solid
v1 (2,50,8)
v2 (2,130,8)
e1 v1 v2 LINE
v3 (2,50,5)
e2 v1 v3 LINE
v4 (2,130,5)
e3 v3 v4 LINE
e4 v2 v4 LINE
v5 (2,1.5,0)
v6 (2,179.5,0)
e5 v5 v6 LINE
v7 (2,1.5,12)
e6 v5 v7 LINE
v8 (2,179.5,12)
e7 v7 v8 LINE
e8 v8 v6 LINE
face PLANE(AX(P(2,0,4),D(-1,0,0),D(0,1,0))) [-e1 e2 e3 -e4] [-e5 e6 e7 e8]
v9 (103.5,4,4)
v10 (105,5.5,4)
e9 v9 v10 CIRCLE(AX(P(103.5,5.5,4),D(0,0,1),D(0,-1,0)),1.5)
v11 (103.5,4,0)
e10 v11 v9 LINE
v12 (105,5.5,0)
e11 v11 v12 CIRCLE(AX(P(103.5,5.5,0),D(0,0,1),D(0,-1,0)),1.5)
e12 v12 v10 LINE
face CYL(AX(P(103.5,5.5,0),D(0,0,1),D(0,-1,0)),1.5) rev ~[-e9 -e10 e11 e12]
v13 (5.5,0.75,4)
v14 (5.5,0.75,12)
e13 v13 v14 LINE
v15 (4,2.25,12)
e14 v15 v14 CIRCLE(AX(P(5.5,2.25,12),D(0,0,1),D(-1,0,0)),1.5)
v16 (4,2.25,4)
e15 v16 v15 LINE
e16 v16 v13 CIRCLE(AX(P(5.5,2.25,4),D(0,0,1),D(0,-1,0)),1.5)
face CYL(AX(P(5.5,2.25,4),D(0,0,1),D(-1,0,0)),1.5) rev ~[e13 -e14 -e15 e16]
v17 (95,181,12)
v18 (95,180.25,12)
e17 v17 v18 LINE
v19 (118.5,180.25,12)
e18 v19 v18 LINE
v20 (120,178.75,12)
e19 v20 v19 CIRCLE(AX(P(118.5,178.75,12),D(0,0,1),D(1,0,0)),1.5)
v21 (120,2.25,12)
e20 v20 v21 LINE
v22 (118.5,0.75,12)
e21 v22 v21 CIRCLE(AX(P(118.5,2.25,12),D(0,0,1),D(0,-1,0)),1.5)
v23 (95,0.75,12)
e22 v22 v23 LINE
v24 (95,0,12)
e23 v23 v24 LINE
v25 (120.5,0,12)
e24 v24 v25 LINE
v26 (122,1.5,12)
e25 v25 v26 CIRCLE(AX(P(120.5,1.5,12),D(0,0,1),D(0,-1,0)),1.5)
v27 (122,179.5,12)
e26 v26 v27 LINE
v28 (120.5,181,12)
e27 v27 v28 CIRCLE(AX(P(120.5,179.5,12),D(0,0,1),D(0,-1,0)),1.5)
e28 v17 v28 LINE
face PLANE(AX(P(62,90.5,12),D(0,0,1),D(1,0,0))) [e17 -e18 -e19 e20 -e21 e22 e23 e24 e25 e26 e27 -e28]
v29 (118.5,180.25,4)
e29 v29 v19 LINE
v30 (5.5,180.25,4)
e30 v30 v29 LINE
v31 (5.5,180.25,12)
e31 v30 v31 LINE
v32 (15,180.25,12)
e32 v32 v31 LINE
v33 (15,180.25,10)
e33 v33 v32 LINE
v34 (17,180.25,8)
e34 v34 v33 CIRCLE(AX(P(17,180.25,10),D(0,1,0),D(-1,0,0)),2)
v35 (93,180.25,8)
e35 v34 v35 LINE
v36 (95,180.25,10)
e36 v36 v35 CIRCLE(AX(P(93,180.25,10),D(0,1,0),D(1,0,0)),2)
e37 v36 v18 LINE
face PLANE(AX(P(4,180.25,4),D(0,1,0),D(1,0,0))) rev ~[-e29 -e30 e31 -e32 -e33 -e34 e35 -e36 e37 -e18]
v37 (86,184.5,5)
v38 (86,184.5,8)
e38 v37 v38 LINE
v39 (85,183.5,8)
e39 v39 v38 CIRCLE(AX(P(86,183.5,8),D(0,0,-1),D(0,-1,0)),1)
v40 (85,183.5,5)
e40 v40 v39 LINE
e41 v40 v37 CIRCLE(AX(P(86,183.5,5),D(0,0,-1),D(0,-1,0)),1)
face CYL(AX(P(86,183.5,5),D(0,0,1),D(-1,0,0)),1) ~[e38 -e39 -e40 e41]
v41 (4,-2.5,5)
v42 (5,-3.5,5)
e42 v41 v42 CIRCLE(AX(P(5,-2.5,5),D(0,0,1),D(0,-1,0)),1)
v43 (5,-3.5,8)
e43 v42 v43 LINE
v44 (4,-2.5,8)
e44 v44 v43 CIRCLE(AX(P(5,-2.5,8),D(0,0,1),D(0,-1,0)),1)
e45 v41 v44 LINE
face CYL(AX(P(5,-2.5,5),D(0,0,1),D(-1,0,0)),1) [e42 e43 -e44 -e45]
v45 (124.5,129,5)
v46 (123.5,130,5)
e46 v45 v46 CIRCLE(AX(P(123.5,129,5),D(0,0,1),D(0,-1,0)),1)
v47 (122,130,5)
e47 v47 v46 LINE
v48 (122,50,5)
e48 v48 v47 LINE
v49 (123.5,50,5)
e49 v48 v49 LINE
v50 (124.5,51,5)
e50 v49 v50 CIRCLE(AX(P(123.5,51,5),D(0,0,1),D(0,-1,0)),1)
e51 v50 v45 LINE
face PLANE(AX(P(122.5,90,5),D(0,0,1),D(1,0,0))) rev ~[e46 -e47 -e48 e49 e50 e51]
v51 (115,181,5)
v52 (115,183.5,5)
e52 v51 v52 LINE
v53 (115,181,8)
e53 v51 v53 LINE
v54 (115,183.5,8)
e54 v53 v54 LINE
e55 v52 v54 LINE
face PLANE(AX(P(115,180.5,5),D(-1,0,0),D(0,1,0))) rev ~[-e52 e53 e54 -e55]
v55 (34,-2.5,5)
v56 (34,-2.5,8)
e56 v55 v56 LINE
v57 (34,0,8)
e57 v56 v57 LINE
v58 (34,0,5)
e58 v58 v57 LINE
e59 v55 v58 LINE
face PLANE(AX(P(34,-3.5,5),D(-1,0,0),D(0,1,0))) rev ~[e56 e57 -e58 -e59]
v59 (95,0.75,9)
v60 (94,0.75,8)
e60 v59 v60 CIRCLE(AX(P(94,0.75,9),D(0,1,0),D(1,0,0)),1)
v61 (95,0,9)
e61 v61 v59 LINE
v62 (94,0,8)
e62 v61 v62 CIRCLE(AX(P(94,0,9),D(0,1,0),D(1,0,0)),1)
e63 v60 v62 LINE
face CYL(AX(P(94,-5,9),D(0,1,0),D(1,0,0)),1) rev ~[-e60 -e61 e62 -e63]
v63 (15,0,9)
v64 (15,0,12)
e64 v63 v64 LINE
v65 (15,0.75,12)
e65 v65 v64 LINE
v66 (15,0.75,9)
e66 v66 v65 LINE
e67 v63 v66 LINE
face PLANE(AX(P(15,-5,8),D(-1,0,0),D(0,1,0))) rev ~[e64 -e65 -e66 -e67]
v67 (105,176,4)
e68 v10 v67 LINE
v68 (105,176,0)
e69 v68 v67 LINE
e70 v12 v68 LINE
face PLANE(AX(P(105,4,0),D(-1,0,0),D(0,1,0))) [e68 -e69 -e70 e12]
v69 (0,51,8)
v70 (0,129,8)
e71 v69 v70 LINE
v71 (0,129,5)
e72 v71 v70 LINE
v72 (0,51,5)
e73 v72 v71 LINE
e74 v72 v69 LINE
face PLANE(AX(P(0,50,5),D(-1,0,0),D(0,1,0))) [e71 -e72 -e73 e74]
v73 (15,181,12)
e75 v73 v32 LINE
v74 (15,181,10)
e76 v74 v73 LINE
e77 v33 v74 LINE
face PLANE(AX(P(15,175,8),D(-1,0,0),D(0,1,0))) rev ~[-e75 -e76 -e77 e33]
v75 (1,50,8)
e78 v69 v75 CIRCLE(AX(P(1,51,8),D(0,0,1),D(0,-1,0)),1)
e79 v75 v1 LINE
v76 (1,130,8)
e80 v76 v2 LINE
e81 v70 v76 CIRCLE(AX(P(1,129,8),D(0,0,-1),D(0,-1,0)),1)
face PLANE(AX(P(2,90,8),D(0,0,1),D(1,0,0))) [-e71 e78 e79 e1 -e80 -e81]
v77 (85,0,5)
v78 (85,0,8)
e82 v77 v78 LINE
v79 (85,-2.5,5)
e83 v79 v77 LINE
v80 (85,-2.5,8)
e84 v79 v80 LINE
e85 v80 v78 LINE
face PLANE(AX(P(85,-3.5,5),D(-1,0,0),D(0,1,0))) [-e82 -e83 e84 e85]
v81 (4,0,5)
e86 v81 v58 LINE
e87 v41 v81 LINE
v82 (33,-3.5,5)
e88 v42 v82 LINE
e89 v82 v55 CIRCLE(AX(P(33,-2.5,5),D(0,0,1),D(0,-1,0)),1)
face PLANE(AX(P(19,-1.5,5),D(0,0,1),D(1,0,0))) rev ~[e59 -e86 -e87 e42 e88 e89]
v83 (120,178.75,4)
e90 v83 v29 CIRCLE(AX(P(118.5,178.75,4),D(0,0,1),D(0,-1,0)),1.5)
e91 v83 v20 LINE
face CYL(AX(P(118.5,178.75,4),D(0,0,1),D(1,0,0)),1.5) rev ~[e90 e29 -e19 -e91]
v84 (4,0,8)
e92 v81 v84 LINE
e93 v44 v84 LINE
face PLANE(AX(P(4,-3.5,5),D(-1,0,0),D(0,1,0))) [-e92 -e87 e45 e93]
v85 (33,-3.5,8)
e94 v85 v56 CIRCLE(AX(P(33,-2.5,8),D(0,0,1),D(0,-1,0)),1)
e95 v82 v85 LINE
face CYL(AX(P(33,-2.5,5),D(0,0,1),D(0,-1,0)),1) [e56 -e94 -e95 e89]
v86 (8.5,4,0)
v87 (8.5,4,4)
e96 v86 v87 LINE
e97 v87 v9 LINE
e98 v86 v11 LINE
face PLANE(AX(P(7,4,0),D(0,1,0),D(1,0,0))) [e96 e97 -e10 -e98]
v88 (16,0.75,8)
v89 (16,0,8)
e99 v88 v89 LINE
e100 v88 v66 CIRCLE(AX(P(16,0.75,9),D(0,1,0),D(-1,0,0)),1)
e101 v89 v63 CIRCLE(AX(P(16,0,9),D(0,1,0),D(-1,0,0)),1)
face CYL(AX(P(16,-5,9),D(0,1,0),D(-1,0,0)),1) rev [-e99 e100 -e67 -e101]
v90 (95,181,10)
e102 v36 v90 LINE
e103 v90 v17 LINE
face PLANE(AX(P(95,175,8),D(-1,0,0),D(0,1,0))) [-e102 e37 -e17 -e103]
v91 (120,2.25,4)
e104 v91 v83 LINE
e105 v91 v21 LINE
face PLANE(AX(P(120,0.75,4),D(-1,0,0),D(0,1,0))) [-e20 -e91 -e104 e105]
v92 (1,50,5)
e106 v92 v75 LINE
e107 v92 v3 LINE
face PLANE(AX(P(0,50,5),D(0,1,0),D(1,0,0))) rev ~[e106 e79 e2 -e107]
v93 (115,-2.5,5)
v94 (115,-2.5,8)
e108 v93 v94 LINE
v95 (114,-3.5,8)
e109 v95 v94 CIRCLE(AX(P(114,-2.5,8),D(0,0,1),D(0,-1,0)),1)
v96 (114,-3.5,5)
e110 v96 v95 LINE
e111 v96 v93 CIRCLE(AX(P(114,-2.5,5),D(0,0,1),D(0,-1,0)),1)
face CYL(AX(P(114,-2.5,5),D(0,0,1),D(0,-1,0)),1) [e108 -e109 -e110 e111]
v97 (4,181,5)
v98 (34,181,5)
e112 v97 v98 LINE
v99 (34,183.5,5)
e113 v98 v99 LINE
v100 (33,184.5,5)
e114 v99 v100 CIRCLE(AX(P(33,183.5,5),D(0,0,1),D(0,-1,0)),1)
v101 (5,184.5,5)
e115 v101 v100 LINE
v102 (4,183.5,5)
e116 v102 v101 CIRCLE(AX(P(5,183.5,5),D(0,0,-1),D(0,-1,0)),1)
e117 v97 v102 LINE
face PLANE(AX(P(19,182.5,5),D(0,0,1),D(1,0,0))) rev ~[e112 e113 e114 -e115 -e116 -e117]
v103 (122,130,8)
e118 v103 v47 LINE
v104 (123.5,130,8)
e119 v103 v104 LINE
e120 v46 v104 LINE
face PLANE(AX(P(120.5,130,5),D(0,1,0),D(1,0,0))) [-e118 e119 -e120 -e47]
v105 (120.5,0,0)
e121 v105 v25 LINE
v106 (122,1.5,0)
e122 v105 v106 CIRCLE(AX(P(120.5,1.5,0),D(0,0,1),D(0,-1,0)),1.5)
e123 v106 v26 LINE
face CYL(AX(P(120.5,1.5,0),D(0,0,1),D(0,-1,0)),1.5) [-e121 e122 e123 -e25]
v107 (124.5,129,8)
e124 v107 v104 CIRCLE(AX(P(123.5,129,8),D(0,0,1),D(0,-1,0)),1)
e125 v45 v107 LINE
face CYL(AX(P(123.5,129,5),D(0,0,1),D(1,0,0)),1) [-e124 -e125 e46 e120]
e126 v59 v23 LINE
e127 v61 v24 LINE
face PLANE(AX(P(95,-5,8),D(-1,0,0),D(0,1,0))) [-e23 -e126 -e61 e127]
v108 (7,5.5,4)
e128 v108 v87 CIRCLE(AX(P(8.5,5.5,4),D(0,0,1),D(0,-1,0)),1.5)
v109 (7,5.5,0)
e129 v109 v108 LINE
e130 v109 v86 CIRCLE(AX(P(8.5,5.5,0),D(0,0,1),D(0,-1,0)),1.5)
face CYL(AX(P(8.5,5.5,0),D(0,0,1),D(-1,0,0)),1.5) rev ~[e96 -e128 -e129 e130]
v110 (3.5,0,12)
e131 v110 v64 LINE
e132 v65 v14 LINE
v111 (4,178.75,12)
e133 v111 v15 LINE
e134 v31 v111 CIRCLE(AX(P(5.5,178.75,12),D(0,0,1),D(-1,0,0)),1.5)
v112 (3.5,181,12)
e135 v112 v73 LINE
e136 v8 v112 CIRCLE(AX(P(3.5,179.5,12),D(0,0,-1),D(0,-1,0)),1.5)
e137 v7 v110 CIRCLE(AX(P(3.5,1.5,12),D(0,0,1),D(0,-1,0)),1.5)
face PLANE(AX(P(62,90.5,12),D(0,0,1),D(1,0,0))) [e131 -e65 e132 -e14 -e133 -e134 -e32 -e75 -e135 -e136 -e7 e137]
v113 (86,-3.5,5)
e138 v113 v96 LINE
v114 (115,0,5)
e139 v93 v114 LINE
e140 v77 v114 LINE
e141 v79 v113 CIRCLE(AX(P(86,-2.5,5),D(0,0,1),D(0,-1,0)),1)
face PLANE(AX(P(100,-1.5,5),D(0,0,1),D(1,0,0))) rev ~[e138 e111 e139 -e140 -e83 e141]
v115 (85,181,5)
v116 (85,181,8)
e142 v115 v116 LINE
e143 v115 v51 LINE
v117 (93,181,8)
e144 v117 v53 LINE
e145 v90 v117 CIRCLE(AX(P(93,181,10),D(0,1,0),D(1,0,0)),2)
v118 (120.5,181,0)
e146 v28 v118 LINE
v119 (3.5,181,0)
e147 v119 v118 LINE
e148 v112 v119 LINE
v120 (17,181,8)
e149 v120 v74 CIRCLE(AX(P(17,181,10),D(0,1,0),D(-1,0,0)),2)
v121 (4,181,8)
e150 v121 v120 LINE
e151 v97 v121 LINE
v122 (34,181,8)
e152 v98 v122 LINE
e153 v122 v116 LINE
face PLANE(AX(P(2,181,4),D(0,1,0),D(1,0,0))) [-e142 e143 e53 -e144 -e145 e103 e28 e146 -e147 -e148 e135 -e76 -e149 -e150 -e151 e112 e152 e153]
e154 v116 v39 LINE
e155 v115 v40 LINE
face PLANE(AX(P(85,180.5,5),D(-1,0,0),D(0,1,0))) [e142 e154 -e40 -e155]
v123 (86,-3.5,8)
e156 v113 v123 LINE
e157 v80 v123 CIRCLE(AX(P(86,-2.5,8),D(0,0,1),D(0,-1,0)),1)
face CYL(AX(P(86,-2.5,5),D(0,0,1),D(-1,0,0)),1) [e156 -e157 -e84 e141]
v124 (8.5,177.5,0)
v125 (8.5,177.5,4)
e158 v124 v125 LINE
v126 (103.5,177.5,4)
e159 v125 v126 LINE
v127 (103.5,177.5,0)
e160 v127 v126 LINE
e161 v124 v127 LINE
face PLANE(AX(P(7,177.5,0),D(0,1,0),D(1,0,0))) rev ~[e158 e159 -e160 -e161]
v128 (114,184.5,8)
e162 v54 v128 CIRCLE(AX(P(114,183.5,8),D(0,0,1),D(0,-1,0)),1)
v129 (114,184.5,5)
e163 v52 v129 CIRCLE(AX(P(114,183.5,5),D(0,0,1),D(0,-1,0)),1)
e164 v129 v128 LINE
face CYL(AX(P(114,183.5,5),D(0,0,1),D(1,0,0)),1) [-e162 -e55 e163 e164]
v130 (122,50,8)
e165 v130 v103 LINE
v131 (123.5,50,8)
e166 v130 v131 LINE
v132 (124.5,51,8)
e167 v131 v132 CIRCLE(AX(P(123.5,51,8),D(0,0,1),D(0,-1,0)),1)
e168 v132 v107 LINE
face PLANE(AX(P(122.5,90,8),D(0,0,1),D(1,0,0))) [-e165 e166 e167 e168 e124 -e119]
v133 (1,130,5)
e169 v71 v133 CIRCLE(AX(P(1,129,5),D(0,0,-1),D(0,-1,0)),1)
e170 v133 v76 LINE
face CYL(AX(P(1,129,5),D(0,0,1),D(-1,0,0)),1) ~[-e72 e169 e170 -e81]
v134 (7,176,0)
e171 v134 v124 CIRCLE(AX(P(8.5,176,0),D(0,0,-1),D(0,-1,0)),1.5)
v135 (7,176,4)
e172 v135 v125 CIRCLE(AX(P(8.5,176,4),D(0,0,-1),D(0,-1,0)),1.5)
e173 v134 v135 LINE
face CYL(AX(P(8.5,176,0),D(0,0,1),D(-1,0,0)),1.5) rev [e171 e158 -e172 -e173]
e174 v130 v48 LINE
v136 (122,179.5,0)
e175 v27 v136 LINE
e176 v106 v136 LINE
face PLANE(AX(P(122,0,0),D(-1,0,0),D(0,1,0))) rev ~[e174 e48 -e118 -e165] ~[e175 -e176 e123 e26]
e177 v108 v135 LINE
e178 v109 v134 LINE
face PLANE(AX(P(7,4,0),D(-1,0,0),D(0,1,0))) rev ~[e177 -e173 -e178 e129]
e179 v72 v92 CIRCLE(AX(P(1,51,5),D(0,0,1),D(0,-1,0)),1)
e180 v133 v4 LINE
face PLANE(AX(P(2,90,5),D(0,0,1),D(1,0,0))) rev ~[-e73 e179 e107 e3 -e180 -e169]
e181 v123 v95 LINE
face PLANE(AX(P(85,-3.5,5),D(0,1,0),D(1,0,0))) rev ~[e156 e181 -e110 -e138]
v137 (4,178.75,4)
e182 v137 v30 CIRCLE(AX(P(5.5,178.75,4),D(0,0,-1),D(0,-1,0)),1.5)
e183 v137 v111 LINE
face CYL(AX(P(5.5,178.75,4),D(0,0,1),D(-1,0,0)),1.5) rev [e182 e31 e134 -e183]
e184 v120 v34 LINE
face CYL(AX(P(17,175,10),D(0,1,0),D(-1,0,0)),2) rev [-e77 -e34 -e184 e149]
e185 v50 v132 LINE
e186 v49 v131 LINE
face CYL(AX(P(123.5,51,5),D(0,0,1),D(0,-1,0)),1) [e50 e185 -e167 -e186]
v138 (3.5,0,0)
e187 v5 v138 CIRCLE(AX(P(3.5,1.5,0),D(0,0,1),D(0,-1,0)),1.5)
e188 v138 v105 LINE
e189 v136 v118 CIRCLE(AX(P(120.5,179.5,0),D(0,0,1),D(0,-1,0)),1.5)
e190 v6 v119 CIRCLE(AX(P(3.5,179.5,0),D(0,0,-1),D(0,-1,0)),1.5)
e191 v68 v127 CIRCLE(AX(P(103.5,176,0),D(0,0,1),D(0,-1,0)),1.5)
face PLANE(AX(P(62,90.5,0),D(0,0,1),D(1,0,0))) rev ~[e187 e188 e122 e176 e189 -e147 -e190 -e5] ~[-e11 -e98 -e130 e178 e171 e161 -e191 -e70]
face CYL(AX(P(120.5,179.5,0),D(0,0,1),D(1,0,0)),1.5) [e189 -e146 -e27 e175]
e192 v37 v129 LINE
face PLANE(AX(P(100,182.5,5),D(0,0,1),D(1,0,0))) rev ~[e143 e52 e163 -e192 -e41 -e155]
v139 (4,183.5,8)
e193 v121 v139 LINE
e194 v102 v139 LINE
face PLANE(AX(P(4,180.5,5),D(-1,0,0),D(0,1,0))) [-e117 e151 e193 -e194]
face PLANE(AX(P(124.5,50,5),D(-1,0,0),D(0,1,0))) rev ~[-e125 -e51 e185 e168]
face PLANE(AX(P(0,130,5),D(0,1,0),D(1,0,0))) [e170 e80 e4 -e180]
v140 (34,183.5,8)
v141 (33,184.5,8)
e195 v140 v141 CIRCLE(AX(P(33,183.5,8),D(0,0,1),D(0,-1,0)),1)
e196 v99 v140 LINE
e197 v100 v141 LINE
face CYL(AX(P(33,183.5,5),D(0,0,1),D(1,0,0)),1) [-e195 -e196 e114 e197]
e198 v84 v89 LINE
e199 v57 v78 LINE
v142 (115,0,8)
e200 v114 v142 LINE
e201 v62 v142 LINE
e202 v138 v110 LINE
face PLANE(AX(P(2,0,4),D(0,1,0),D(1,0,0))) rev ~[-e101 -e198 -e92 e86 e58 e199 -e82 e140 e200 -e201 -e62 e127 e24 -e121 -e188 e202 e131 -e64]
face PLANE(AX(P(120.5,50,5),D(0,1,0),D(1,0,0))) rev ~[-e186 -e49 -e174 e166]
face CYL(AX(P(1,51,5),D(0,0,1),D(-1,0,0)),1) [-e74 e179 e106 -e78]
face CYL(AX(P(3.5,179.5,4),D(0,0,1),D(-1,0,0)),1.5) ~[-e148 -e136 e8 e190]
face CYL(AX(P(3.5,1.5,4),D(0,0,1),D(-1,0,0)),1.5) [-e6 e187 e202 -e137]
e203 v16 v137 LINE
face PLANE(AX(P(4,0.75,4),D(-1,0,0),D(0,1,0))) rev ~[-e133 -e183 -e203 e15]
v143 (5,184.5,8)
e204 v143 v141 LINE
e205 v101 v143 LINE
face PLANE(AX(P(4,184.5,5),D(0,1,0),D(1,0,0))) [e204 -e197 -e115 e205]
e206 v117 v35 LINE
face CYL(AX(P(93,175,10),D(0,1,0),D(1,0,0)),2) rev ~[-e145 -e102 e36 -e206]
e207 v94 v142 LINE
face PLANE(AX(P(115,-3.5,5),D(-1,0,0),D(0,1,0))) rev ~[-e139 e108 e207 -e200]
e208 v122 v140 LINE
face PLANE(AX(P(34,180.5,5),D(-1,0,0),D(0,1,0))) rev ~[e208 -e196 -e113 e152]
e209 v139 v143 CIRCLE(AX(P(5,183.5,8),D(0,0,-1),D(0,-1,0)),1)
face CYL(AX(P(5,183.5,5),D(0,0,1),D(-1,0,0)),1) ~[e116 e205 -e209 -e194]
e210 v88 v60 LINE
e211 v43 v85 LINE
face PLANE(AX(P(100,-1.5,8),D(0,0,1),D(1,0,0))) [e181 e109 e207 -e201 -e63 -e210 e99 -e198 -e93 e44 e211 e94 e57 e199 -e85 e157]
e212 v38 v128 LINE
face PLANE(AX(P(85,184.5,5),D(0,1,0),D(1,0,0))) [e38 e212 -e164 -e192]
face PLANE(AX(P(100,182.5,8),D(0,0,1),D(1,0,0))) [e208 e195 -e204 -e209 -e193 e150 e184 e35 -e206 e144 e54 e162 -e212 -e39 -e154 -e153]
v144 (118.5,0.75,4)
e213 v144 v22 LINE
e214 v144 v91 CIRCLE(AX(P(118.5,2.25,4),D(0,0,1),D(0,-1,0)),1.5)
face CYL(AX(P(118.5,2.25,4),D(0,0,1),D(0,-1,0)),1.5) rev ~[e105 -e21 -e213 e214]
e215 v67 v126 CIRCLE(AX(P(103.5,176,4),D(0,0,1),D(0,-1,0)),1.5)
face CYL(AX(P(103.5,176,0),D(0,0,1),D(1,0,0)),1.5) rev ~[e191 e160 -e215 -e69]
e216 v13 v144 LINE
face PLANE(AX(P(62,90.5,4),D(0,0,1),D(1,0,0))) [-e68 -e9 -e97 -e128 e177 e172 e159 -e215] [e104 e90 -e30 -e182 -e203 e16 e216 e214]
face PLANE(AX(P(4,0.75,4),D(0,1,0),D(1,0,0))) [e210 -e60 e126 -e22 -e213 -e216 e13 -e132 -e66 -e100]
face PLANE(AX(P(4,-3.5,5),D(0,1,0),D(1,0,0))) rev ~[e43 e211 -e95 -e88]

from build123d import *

# Parameters (mm, degrees)
BOX011_W      = 4
BOX011_H      = 80
BOX011_DEPTH  = 3
FILLET006_R   = 1
BOX010_W      = 30
BOX010_H      = 4
BOX010_DEPTH  = 3
FILLET007_R   = 1
BOX009_W      = 30
BOX009_H      = 4
BOX009_DEPTH  = 3
FILLET008_R   = 1
BOX008_W      = 30
BOX008_H      = 4
BOX008_DEPTH  = 3
FILLET009_R   = 1
BOX013_W      = 4
BOX013_H      = 80
BOX013_DEPTH  = 3
FILLET010_R   = 1
BOX012_W      = 30
BOX012_H      = 4
BOX012_DEPTH  = 3
FILLET005_R   = 1
BOX006_W      = 80
BOX006_H      = 10
BOX006_DEPTH  = 10
BOX007_W      = 80
BOX007_H      = 10
BOX007_DEPTH  = 10
FILLET004_1_R = 2
FILLET004_2_R = 1
BOX003_W      = 116
BOX003_H      = 179.5
BOX003_DEPTH  = 10
FILLET002_R   = 1.5
BOX002_W      = 120
BOX002_H      = 181
BOX002_DEPTH  = 8
FILLET003_R   = 1.5
BOX001_W      = 98
BOX001_H      = 173.5
BOX001_DEPTH  = 4
FILLET_R      = 1.5
BOX_W         = 120
BOX_H         = 181
BOX_DEPTH     = 4
FILLET001_R   = 1.5


with BuildPart() as fillet006:
    # Box011 → Box011 (new body)
    with BuildSketch(Plane(origin=(0, 50, 5), x_dir=(1, 0, 0), z_dir=(0, 0, 1))):
        with Locations((2, 40)):
            Rectangle(BOX011_W, BOX011_H)
    extrude(amount=BOX011_DEPTH)

    # Fillet006
    fillet006_edges = [fillet006.edges().sort_by_distance(p)[0] for p in [
        (0, 50, 6.5),
        (0, 130, 6.5),
    ]]
    fillet(fillet006_edges, radius=FILLET006_R)


with BuildPart() as fillet007:
    # Box010 → Box010 (new body)
    with BuildSketch(Plane(origin=(85, -3.5, 5), x_dir=(1, 0, 0), z_dir=(0, 0, 1))):
        with Locations((15, 2)):
            Rectangle(BOX010_W, BOX010_H)
    extrude(amount=BOX010_DEPTH)

    # Fillet007
    fillet007_edges = [fillet007.edges().sort_by_distance(p)[0] for p in [
        (85, -3.5, 6.5),
        (115, -3.5, 6.5),
    ]]
    fillet(fillet007_edges, radius=FILLET007_R)


with BuildPart() as fillet008:
    # Box009 → Box009 (new body)
    with BuildSketch(Plane(origin=(4, 180.5, 5), x_dir=(1, 0, 0), z_dir=(0, 0, 1))):
        with Locations((15, 2)):
            Rectangle(BOX009_W, BOX009_H)
    extrude(amount=BOX009_DEPTH)

    # Fillet008
    fillet008_edges = [fillet008.edges().sort_by_distance(p)[0] for p in [
        (4, 184.5, 6.5),
        (34, 184.5, 6.5),
    ]]
    fillet(fillet008_edges, radius=FILLET008_R)


with BuildPart() as fillet009:
    # Box008 → Box008 (new body)
    with BuildSketch(Plane(origin=(85, 180.5, 5), x_dir=(1, 0, 0), z_dir=(0, 0, 1))):
        with Locations((15, 2)):
            Rectangle(BOX008_W, BOX008_H)
    extrude(amount=BOX008_DEPTH)

    # Fillet009
    fillet009_edges = [fillet009.edges().sort_by_distance(p)[0] for p in [
        (85, 184.5, 6.5),
        (115, 184.5, 6.5),
    ]]
    fillet(fillet009_edges, radius=FILLET009_R)


with BuildPart() as fillet010:
    # Box013 → Box013 (new body)
    with BuildSketch(Plane(origin=(120.5, 50, 5), x_dir=(1, 0, 0), z_dir=(0, 0, 1))):
        with Locations((2, 40)):
            Rectangle(BOX013_W, BOX013_H)
    extrude(amount=BOX013_DEPTH)

    # Fillet010
    fillet010_edges = [fillet010.edges().sort_by_distance(p)[0] for p in [
        (124.5, 50, 6.5),
        (124.5, 130, 6.5),
    ]]
    fillet(fillet010_edges, radius=FILLET010_R)


with BuildPart() as fusion002:
    # Box012 → Box012 (new body)
    with BuildSketch(Plane(origin=(4, -3.5, 5), x_dir=(1, 0, 0), z_dir=(0, 0, 1))):
        with Locations((15, 2)):
            Rectangle(BOX012_W, BOX012_H)
    extrude(amount=BOX012_DEPTH)

    # Fillet005
    fillet005_edges = [fusion002.edges().sort_by_distance(p)[0] for p in [
        (4, -3.5, 6.5),
        (34, -3.5, 6.5),
    ]]
    fillet(fillet005_edges, radius=FILLET005_R)

    # Fusion002: union Fillet006, Fillet007, Fillet008, Fillet009, Fillet010
    add(fillet006.part)
    add(fillet007.part)
    add(fillet008.part)
    add(fillet009.part)
    add(fillet010.part)


with BuildPart() as cube006:
    # Box006 → Box006 (new body)
    with BuildSketch(Plane(origin=(15, -5, 0), x_dir=(1, 0, 0), z_dir=(0, 0, 1))):
        with Locations((40, 5)):
            Rectangle(BOX006_W, BOX006_H)
    extrude(amount=BOX006_DEPTH)


with BuildPart() as fillet004:
    # Box007 → Box007 (new body)
    with BuildSketch(Plane(origin=(15, 175, 0), x_dir=(1, 0, 0), z_dir=(0, 0, 1))):
        with Locations((40, 5)):
            Rectangle(BOX007_W, BOX007_H)
    extrude(amount=BOX007_DEPTH)

    # Fusion: union Cube006
    add(cube006.part)


with BuildPart() as fillet004_1:
    # Fusion placement: moved
    add(fillet004.part.moved(Location((0, 0, 8))))

    # Fillet004 1
    fillet004_1_edges = [fillet004_1.edges().sort_by_distance(p)[0] for p in [
        (15, 180, 8),
        (95, 180, 8),
    ]]
    fillet(fillet004_1_edges, radius=FILLET004_1_R)

    # Fillet004 2
    fillet004_2_edges = [fillet004_1.edges().sort_by_distance(p)[0] for p in [
        (15, 0, 8),
        (95, 0, 8),
    ]]
    fillet(fillet004_2_edges, radius=FILLET004_2_R)


with BuildPart() as fillet002:
    # Box003 → Box003 (new body)
    with BuildSketch(Plane(origin=(4, 0.75, 4), x_dir=(1, 0, 0), z_dir=(0, 0, 1))):
        with Locations((58, 89.75)):
            Rectangle(BOX003_W, BOX003_H)
    extrude(amount=BOX003_DEPTH)

    # Fillet002
    fillet002_edges = [fillet002.edges().sort_by_distance(p)[0] for p in [
        (4, 0.75, 9),
        (4, 180.25, 9),
        (120, 0.75, 9),
        (120, 180.25, 9),
    ]]
    fillet(fillet002_edges, radius=FILLET002_R)


with BuildPart() as cut002:
    # Box002 → Box002 (new body)
    with BuildSketch(Plane(origin=(2, 0, 4), x_dir=(1, 0, 0), z_dir=(0, 0, 1))):
        with Locations((60, 90.5)):
            Rectangle(BOX002_W, BOX002_H)
    extrude(amount=BOX002_DEPTH)

    # Fillet003
    fillet003_edges = [cut002.edges().sort_by_distance(p)[0] for p in [
        (2, 0, 8),
        (2, 181, 8),
        (122, 0, 8),
        (122, 181, 8),
    ]]
    fillet(fillet003_edges, radius=FILLET003_R)

    # Cut001: cut Fillet002
    add(fillet002.part, mode=Mode.SUBTRACT)

    # Cut002: cut Fillet004
    add(fillet004_1.part, mode=Mode.SUBTRACT)


with BuildPart() as fillet_body:
    # Box001 → Box001 (new body)
    with BuildSketch(Plane(origin=(7, 4, 0), x_dir=(1, 0, 0), z_dir=(0, 0, 1))):
        with Locations((49, 86.75)):
            Rectangle(BOX001_W, BOX001_H)
    extrude(amount=BOX001_DEPTH)

    # Fillet
    fillet_edges = [fillet_body.edges().sort_by_distance(p)[0] for p in [
        (7, 4, 2),
        (7, 177.5, 2),
        (105, 4, 2),
        (105, 177.5, 2),
    ]]
    fillet(fillet_edges, radius=FILLET_R)


with BuildPart() as fusion003:
    # Box → Box (new body)
    with BuildSketch(Plane(origin=(2, 0, 0), x_dir=(1, 0, 0), z_dir=(0, 0, 1))):
        with Locations((60, 90.5)):
            Rectangle(BOX_W, BOX_H)
    extrude(amount=BOX_DEPTH)

    # Fillet001
    fillet001_edges = [fusion003.edges().sort_by_distance(p)[0] for p in [
        (2, 0, 2),
        (2, 181, 2),
        (122, 0, 2),
        (122, 181, 2),
    ]]
    fillet(fillet001_edges, radius=FILLET001_R)

    # Cut: cut Fillet body
    add(fillet_body.part, mode=Mode.SUBTRACT)

    # Fusion001: union Cut002
    add(cut002.part)

    # Fusion003: union Fusion002
    add(fusion002.part)


solid = fusion003.part
